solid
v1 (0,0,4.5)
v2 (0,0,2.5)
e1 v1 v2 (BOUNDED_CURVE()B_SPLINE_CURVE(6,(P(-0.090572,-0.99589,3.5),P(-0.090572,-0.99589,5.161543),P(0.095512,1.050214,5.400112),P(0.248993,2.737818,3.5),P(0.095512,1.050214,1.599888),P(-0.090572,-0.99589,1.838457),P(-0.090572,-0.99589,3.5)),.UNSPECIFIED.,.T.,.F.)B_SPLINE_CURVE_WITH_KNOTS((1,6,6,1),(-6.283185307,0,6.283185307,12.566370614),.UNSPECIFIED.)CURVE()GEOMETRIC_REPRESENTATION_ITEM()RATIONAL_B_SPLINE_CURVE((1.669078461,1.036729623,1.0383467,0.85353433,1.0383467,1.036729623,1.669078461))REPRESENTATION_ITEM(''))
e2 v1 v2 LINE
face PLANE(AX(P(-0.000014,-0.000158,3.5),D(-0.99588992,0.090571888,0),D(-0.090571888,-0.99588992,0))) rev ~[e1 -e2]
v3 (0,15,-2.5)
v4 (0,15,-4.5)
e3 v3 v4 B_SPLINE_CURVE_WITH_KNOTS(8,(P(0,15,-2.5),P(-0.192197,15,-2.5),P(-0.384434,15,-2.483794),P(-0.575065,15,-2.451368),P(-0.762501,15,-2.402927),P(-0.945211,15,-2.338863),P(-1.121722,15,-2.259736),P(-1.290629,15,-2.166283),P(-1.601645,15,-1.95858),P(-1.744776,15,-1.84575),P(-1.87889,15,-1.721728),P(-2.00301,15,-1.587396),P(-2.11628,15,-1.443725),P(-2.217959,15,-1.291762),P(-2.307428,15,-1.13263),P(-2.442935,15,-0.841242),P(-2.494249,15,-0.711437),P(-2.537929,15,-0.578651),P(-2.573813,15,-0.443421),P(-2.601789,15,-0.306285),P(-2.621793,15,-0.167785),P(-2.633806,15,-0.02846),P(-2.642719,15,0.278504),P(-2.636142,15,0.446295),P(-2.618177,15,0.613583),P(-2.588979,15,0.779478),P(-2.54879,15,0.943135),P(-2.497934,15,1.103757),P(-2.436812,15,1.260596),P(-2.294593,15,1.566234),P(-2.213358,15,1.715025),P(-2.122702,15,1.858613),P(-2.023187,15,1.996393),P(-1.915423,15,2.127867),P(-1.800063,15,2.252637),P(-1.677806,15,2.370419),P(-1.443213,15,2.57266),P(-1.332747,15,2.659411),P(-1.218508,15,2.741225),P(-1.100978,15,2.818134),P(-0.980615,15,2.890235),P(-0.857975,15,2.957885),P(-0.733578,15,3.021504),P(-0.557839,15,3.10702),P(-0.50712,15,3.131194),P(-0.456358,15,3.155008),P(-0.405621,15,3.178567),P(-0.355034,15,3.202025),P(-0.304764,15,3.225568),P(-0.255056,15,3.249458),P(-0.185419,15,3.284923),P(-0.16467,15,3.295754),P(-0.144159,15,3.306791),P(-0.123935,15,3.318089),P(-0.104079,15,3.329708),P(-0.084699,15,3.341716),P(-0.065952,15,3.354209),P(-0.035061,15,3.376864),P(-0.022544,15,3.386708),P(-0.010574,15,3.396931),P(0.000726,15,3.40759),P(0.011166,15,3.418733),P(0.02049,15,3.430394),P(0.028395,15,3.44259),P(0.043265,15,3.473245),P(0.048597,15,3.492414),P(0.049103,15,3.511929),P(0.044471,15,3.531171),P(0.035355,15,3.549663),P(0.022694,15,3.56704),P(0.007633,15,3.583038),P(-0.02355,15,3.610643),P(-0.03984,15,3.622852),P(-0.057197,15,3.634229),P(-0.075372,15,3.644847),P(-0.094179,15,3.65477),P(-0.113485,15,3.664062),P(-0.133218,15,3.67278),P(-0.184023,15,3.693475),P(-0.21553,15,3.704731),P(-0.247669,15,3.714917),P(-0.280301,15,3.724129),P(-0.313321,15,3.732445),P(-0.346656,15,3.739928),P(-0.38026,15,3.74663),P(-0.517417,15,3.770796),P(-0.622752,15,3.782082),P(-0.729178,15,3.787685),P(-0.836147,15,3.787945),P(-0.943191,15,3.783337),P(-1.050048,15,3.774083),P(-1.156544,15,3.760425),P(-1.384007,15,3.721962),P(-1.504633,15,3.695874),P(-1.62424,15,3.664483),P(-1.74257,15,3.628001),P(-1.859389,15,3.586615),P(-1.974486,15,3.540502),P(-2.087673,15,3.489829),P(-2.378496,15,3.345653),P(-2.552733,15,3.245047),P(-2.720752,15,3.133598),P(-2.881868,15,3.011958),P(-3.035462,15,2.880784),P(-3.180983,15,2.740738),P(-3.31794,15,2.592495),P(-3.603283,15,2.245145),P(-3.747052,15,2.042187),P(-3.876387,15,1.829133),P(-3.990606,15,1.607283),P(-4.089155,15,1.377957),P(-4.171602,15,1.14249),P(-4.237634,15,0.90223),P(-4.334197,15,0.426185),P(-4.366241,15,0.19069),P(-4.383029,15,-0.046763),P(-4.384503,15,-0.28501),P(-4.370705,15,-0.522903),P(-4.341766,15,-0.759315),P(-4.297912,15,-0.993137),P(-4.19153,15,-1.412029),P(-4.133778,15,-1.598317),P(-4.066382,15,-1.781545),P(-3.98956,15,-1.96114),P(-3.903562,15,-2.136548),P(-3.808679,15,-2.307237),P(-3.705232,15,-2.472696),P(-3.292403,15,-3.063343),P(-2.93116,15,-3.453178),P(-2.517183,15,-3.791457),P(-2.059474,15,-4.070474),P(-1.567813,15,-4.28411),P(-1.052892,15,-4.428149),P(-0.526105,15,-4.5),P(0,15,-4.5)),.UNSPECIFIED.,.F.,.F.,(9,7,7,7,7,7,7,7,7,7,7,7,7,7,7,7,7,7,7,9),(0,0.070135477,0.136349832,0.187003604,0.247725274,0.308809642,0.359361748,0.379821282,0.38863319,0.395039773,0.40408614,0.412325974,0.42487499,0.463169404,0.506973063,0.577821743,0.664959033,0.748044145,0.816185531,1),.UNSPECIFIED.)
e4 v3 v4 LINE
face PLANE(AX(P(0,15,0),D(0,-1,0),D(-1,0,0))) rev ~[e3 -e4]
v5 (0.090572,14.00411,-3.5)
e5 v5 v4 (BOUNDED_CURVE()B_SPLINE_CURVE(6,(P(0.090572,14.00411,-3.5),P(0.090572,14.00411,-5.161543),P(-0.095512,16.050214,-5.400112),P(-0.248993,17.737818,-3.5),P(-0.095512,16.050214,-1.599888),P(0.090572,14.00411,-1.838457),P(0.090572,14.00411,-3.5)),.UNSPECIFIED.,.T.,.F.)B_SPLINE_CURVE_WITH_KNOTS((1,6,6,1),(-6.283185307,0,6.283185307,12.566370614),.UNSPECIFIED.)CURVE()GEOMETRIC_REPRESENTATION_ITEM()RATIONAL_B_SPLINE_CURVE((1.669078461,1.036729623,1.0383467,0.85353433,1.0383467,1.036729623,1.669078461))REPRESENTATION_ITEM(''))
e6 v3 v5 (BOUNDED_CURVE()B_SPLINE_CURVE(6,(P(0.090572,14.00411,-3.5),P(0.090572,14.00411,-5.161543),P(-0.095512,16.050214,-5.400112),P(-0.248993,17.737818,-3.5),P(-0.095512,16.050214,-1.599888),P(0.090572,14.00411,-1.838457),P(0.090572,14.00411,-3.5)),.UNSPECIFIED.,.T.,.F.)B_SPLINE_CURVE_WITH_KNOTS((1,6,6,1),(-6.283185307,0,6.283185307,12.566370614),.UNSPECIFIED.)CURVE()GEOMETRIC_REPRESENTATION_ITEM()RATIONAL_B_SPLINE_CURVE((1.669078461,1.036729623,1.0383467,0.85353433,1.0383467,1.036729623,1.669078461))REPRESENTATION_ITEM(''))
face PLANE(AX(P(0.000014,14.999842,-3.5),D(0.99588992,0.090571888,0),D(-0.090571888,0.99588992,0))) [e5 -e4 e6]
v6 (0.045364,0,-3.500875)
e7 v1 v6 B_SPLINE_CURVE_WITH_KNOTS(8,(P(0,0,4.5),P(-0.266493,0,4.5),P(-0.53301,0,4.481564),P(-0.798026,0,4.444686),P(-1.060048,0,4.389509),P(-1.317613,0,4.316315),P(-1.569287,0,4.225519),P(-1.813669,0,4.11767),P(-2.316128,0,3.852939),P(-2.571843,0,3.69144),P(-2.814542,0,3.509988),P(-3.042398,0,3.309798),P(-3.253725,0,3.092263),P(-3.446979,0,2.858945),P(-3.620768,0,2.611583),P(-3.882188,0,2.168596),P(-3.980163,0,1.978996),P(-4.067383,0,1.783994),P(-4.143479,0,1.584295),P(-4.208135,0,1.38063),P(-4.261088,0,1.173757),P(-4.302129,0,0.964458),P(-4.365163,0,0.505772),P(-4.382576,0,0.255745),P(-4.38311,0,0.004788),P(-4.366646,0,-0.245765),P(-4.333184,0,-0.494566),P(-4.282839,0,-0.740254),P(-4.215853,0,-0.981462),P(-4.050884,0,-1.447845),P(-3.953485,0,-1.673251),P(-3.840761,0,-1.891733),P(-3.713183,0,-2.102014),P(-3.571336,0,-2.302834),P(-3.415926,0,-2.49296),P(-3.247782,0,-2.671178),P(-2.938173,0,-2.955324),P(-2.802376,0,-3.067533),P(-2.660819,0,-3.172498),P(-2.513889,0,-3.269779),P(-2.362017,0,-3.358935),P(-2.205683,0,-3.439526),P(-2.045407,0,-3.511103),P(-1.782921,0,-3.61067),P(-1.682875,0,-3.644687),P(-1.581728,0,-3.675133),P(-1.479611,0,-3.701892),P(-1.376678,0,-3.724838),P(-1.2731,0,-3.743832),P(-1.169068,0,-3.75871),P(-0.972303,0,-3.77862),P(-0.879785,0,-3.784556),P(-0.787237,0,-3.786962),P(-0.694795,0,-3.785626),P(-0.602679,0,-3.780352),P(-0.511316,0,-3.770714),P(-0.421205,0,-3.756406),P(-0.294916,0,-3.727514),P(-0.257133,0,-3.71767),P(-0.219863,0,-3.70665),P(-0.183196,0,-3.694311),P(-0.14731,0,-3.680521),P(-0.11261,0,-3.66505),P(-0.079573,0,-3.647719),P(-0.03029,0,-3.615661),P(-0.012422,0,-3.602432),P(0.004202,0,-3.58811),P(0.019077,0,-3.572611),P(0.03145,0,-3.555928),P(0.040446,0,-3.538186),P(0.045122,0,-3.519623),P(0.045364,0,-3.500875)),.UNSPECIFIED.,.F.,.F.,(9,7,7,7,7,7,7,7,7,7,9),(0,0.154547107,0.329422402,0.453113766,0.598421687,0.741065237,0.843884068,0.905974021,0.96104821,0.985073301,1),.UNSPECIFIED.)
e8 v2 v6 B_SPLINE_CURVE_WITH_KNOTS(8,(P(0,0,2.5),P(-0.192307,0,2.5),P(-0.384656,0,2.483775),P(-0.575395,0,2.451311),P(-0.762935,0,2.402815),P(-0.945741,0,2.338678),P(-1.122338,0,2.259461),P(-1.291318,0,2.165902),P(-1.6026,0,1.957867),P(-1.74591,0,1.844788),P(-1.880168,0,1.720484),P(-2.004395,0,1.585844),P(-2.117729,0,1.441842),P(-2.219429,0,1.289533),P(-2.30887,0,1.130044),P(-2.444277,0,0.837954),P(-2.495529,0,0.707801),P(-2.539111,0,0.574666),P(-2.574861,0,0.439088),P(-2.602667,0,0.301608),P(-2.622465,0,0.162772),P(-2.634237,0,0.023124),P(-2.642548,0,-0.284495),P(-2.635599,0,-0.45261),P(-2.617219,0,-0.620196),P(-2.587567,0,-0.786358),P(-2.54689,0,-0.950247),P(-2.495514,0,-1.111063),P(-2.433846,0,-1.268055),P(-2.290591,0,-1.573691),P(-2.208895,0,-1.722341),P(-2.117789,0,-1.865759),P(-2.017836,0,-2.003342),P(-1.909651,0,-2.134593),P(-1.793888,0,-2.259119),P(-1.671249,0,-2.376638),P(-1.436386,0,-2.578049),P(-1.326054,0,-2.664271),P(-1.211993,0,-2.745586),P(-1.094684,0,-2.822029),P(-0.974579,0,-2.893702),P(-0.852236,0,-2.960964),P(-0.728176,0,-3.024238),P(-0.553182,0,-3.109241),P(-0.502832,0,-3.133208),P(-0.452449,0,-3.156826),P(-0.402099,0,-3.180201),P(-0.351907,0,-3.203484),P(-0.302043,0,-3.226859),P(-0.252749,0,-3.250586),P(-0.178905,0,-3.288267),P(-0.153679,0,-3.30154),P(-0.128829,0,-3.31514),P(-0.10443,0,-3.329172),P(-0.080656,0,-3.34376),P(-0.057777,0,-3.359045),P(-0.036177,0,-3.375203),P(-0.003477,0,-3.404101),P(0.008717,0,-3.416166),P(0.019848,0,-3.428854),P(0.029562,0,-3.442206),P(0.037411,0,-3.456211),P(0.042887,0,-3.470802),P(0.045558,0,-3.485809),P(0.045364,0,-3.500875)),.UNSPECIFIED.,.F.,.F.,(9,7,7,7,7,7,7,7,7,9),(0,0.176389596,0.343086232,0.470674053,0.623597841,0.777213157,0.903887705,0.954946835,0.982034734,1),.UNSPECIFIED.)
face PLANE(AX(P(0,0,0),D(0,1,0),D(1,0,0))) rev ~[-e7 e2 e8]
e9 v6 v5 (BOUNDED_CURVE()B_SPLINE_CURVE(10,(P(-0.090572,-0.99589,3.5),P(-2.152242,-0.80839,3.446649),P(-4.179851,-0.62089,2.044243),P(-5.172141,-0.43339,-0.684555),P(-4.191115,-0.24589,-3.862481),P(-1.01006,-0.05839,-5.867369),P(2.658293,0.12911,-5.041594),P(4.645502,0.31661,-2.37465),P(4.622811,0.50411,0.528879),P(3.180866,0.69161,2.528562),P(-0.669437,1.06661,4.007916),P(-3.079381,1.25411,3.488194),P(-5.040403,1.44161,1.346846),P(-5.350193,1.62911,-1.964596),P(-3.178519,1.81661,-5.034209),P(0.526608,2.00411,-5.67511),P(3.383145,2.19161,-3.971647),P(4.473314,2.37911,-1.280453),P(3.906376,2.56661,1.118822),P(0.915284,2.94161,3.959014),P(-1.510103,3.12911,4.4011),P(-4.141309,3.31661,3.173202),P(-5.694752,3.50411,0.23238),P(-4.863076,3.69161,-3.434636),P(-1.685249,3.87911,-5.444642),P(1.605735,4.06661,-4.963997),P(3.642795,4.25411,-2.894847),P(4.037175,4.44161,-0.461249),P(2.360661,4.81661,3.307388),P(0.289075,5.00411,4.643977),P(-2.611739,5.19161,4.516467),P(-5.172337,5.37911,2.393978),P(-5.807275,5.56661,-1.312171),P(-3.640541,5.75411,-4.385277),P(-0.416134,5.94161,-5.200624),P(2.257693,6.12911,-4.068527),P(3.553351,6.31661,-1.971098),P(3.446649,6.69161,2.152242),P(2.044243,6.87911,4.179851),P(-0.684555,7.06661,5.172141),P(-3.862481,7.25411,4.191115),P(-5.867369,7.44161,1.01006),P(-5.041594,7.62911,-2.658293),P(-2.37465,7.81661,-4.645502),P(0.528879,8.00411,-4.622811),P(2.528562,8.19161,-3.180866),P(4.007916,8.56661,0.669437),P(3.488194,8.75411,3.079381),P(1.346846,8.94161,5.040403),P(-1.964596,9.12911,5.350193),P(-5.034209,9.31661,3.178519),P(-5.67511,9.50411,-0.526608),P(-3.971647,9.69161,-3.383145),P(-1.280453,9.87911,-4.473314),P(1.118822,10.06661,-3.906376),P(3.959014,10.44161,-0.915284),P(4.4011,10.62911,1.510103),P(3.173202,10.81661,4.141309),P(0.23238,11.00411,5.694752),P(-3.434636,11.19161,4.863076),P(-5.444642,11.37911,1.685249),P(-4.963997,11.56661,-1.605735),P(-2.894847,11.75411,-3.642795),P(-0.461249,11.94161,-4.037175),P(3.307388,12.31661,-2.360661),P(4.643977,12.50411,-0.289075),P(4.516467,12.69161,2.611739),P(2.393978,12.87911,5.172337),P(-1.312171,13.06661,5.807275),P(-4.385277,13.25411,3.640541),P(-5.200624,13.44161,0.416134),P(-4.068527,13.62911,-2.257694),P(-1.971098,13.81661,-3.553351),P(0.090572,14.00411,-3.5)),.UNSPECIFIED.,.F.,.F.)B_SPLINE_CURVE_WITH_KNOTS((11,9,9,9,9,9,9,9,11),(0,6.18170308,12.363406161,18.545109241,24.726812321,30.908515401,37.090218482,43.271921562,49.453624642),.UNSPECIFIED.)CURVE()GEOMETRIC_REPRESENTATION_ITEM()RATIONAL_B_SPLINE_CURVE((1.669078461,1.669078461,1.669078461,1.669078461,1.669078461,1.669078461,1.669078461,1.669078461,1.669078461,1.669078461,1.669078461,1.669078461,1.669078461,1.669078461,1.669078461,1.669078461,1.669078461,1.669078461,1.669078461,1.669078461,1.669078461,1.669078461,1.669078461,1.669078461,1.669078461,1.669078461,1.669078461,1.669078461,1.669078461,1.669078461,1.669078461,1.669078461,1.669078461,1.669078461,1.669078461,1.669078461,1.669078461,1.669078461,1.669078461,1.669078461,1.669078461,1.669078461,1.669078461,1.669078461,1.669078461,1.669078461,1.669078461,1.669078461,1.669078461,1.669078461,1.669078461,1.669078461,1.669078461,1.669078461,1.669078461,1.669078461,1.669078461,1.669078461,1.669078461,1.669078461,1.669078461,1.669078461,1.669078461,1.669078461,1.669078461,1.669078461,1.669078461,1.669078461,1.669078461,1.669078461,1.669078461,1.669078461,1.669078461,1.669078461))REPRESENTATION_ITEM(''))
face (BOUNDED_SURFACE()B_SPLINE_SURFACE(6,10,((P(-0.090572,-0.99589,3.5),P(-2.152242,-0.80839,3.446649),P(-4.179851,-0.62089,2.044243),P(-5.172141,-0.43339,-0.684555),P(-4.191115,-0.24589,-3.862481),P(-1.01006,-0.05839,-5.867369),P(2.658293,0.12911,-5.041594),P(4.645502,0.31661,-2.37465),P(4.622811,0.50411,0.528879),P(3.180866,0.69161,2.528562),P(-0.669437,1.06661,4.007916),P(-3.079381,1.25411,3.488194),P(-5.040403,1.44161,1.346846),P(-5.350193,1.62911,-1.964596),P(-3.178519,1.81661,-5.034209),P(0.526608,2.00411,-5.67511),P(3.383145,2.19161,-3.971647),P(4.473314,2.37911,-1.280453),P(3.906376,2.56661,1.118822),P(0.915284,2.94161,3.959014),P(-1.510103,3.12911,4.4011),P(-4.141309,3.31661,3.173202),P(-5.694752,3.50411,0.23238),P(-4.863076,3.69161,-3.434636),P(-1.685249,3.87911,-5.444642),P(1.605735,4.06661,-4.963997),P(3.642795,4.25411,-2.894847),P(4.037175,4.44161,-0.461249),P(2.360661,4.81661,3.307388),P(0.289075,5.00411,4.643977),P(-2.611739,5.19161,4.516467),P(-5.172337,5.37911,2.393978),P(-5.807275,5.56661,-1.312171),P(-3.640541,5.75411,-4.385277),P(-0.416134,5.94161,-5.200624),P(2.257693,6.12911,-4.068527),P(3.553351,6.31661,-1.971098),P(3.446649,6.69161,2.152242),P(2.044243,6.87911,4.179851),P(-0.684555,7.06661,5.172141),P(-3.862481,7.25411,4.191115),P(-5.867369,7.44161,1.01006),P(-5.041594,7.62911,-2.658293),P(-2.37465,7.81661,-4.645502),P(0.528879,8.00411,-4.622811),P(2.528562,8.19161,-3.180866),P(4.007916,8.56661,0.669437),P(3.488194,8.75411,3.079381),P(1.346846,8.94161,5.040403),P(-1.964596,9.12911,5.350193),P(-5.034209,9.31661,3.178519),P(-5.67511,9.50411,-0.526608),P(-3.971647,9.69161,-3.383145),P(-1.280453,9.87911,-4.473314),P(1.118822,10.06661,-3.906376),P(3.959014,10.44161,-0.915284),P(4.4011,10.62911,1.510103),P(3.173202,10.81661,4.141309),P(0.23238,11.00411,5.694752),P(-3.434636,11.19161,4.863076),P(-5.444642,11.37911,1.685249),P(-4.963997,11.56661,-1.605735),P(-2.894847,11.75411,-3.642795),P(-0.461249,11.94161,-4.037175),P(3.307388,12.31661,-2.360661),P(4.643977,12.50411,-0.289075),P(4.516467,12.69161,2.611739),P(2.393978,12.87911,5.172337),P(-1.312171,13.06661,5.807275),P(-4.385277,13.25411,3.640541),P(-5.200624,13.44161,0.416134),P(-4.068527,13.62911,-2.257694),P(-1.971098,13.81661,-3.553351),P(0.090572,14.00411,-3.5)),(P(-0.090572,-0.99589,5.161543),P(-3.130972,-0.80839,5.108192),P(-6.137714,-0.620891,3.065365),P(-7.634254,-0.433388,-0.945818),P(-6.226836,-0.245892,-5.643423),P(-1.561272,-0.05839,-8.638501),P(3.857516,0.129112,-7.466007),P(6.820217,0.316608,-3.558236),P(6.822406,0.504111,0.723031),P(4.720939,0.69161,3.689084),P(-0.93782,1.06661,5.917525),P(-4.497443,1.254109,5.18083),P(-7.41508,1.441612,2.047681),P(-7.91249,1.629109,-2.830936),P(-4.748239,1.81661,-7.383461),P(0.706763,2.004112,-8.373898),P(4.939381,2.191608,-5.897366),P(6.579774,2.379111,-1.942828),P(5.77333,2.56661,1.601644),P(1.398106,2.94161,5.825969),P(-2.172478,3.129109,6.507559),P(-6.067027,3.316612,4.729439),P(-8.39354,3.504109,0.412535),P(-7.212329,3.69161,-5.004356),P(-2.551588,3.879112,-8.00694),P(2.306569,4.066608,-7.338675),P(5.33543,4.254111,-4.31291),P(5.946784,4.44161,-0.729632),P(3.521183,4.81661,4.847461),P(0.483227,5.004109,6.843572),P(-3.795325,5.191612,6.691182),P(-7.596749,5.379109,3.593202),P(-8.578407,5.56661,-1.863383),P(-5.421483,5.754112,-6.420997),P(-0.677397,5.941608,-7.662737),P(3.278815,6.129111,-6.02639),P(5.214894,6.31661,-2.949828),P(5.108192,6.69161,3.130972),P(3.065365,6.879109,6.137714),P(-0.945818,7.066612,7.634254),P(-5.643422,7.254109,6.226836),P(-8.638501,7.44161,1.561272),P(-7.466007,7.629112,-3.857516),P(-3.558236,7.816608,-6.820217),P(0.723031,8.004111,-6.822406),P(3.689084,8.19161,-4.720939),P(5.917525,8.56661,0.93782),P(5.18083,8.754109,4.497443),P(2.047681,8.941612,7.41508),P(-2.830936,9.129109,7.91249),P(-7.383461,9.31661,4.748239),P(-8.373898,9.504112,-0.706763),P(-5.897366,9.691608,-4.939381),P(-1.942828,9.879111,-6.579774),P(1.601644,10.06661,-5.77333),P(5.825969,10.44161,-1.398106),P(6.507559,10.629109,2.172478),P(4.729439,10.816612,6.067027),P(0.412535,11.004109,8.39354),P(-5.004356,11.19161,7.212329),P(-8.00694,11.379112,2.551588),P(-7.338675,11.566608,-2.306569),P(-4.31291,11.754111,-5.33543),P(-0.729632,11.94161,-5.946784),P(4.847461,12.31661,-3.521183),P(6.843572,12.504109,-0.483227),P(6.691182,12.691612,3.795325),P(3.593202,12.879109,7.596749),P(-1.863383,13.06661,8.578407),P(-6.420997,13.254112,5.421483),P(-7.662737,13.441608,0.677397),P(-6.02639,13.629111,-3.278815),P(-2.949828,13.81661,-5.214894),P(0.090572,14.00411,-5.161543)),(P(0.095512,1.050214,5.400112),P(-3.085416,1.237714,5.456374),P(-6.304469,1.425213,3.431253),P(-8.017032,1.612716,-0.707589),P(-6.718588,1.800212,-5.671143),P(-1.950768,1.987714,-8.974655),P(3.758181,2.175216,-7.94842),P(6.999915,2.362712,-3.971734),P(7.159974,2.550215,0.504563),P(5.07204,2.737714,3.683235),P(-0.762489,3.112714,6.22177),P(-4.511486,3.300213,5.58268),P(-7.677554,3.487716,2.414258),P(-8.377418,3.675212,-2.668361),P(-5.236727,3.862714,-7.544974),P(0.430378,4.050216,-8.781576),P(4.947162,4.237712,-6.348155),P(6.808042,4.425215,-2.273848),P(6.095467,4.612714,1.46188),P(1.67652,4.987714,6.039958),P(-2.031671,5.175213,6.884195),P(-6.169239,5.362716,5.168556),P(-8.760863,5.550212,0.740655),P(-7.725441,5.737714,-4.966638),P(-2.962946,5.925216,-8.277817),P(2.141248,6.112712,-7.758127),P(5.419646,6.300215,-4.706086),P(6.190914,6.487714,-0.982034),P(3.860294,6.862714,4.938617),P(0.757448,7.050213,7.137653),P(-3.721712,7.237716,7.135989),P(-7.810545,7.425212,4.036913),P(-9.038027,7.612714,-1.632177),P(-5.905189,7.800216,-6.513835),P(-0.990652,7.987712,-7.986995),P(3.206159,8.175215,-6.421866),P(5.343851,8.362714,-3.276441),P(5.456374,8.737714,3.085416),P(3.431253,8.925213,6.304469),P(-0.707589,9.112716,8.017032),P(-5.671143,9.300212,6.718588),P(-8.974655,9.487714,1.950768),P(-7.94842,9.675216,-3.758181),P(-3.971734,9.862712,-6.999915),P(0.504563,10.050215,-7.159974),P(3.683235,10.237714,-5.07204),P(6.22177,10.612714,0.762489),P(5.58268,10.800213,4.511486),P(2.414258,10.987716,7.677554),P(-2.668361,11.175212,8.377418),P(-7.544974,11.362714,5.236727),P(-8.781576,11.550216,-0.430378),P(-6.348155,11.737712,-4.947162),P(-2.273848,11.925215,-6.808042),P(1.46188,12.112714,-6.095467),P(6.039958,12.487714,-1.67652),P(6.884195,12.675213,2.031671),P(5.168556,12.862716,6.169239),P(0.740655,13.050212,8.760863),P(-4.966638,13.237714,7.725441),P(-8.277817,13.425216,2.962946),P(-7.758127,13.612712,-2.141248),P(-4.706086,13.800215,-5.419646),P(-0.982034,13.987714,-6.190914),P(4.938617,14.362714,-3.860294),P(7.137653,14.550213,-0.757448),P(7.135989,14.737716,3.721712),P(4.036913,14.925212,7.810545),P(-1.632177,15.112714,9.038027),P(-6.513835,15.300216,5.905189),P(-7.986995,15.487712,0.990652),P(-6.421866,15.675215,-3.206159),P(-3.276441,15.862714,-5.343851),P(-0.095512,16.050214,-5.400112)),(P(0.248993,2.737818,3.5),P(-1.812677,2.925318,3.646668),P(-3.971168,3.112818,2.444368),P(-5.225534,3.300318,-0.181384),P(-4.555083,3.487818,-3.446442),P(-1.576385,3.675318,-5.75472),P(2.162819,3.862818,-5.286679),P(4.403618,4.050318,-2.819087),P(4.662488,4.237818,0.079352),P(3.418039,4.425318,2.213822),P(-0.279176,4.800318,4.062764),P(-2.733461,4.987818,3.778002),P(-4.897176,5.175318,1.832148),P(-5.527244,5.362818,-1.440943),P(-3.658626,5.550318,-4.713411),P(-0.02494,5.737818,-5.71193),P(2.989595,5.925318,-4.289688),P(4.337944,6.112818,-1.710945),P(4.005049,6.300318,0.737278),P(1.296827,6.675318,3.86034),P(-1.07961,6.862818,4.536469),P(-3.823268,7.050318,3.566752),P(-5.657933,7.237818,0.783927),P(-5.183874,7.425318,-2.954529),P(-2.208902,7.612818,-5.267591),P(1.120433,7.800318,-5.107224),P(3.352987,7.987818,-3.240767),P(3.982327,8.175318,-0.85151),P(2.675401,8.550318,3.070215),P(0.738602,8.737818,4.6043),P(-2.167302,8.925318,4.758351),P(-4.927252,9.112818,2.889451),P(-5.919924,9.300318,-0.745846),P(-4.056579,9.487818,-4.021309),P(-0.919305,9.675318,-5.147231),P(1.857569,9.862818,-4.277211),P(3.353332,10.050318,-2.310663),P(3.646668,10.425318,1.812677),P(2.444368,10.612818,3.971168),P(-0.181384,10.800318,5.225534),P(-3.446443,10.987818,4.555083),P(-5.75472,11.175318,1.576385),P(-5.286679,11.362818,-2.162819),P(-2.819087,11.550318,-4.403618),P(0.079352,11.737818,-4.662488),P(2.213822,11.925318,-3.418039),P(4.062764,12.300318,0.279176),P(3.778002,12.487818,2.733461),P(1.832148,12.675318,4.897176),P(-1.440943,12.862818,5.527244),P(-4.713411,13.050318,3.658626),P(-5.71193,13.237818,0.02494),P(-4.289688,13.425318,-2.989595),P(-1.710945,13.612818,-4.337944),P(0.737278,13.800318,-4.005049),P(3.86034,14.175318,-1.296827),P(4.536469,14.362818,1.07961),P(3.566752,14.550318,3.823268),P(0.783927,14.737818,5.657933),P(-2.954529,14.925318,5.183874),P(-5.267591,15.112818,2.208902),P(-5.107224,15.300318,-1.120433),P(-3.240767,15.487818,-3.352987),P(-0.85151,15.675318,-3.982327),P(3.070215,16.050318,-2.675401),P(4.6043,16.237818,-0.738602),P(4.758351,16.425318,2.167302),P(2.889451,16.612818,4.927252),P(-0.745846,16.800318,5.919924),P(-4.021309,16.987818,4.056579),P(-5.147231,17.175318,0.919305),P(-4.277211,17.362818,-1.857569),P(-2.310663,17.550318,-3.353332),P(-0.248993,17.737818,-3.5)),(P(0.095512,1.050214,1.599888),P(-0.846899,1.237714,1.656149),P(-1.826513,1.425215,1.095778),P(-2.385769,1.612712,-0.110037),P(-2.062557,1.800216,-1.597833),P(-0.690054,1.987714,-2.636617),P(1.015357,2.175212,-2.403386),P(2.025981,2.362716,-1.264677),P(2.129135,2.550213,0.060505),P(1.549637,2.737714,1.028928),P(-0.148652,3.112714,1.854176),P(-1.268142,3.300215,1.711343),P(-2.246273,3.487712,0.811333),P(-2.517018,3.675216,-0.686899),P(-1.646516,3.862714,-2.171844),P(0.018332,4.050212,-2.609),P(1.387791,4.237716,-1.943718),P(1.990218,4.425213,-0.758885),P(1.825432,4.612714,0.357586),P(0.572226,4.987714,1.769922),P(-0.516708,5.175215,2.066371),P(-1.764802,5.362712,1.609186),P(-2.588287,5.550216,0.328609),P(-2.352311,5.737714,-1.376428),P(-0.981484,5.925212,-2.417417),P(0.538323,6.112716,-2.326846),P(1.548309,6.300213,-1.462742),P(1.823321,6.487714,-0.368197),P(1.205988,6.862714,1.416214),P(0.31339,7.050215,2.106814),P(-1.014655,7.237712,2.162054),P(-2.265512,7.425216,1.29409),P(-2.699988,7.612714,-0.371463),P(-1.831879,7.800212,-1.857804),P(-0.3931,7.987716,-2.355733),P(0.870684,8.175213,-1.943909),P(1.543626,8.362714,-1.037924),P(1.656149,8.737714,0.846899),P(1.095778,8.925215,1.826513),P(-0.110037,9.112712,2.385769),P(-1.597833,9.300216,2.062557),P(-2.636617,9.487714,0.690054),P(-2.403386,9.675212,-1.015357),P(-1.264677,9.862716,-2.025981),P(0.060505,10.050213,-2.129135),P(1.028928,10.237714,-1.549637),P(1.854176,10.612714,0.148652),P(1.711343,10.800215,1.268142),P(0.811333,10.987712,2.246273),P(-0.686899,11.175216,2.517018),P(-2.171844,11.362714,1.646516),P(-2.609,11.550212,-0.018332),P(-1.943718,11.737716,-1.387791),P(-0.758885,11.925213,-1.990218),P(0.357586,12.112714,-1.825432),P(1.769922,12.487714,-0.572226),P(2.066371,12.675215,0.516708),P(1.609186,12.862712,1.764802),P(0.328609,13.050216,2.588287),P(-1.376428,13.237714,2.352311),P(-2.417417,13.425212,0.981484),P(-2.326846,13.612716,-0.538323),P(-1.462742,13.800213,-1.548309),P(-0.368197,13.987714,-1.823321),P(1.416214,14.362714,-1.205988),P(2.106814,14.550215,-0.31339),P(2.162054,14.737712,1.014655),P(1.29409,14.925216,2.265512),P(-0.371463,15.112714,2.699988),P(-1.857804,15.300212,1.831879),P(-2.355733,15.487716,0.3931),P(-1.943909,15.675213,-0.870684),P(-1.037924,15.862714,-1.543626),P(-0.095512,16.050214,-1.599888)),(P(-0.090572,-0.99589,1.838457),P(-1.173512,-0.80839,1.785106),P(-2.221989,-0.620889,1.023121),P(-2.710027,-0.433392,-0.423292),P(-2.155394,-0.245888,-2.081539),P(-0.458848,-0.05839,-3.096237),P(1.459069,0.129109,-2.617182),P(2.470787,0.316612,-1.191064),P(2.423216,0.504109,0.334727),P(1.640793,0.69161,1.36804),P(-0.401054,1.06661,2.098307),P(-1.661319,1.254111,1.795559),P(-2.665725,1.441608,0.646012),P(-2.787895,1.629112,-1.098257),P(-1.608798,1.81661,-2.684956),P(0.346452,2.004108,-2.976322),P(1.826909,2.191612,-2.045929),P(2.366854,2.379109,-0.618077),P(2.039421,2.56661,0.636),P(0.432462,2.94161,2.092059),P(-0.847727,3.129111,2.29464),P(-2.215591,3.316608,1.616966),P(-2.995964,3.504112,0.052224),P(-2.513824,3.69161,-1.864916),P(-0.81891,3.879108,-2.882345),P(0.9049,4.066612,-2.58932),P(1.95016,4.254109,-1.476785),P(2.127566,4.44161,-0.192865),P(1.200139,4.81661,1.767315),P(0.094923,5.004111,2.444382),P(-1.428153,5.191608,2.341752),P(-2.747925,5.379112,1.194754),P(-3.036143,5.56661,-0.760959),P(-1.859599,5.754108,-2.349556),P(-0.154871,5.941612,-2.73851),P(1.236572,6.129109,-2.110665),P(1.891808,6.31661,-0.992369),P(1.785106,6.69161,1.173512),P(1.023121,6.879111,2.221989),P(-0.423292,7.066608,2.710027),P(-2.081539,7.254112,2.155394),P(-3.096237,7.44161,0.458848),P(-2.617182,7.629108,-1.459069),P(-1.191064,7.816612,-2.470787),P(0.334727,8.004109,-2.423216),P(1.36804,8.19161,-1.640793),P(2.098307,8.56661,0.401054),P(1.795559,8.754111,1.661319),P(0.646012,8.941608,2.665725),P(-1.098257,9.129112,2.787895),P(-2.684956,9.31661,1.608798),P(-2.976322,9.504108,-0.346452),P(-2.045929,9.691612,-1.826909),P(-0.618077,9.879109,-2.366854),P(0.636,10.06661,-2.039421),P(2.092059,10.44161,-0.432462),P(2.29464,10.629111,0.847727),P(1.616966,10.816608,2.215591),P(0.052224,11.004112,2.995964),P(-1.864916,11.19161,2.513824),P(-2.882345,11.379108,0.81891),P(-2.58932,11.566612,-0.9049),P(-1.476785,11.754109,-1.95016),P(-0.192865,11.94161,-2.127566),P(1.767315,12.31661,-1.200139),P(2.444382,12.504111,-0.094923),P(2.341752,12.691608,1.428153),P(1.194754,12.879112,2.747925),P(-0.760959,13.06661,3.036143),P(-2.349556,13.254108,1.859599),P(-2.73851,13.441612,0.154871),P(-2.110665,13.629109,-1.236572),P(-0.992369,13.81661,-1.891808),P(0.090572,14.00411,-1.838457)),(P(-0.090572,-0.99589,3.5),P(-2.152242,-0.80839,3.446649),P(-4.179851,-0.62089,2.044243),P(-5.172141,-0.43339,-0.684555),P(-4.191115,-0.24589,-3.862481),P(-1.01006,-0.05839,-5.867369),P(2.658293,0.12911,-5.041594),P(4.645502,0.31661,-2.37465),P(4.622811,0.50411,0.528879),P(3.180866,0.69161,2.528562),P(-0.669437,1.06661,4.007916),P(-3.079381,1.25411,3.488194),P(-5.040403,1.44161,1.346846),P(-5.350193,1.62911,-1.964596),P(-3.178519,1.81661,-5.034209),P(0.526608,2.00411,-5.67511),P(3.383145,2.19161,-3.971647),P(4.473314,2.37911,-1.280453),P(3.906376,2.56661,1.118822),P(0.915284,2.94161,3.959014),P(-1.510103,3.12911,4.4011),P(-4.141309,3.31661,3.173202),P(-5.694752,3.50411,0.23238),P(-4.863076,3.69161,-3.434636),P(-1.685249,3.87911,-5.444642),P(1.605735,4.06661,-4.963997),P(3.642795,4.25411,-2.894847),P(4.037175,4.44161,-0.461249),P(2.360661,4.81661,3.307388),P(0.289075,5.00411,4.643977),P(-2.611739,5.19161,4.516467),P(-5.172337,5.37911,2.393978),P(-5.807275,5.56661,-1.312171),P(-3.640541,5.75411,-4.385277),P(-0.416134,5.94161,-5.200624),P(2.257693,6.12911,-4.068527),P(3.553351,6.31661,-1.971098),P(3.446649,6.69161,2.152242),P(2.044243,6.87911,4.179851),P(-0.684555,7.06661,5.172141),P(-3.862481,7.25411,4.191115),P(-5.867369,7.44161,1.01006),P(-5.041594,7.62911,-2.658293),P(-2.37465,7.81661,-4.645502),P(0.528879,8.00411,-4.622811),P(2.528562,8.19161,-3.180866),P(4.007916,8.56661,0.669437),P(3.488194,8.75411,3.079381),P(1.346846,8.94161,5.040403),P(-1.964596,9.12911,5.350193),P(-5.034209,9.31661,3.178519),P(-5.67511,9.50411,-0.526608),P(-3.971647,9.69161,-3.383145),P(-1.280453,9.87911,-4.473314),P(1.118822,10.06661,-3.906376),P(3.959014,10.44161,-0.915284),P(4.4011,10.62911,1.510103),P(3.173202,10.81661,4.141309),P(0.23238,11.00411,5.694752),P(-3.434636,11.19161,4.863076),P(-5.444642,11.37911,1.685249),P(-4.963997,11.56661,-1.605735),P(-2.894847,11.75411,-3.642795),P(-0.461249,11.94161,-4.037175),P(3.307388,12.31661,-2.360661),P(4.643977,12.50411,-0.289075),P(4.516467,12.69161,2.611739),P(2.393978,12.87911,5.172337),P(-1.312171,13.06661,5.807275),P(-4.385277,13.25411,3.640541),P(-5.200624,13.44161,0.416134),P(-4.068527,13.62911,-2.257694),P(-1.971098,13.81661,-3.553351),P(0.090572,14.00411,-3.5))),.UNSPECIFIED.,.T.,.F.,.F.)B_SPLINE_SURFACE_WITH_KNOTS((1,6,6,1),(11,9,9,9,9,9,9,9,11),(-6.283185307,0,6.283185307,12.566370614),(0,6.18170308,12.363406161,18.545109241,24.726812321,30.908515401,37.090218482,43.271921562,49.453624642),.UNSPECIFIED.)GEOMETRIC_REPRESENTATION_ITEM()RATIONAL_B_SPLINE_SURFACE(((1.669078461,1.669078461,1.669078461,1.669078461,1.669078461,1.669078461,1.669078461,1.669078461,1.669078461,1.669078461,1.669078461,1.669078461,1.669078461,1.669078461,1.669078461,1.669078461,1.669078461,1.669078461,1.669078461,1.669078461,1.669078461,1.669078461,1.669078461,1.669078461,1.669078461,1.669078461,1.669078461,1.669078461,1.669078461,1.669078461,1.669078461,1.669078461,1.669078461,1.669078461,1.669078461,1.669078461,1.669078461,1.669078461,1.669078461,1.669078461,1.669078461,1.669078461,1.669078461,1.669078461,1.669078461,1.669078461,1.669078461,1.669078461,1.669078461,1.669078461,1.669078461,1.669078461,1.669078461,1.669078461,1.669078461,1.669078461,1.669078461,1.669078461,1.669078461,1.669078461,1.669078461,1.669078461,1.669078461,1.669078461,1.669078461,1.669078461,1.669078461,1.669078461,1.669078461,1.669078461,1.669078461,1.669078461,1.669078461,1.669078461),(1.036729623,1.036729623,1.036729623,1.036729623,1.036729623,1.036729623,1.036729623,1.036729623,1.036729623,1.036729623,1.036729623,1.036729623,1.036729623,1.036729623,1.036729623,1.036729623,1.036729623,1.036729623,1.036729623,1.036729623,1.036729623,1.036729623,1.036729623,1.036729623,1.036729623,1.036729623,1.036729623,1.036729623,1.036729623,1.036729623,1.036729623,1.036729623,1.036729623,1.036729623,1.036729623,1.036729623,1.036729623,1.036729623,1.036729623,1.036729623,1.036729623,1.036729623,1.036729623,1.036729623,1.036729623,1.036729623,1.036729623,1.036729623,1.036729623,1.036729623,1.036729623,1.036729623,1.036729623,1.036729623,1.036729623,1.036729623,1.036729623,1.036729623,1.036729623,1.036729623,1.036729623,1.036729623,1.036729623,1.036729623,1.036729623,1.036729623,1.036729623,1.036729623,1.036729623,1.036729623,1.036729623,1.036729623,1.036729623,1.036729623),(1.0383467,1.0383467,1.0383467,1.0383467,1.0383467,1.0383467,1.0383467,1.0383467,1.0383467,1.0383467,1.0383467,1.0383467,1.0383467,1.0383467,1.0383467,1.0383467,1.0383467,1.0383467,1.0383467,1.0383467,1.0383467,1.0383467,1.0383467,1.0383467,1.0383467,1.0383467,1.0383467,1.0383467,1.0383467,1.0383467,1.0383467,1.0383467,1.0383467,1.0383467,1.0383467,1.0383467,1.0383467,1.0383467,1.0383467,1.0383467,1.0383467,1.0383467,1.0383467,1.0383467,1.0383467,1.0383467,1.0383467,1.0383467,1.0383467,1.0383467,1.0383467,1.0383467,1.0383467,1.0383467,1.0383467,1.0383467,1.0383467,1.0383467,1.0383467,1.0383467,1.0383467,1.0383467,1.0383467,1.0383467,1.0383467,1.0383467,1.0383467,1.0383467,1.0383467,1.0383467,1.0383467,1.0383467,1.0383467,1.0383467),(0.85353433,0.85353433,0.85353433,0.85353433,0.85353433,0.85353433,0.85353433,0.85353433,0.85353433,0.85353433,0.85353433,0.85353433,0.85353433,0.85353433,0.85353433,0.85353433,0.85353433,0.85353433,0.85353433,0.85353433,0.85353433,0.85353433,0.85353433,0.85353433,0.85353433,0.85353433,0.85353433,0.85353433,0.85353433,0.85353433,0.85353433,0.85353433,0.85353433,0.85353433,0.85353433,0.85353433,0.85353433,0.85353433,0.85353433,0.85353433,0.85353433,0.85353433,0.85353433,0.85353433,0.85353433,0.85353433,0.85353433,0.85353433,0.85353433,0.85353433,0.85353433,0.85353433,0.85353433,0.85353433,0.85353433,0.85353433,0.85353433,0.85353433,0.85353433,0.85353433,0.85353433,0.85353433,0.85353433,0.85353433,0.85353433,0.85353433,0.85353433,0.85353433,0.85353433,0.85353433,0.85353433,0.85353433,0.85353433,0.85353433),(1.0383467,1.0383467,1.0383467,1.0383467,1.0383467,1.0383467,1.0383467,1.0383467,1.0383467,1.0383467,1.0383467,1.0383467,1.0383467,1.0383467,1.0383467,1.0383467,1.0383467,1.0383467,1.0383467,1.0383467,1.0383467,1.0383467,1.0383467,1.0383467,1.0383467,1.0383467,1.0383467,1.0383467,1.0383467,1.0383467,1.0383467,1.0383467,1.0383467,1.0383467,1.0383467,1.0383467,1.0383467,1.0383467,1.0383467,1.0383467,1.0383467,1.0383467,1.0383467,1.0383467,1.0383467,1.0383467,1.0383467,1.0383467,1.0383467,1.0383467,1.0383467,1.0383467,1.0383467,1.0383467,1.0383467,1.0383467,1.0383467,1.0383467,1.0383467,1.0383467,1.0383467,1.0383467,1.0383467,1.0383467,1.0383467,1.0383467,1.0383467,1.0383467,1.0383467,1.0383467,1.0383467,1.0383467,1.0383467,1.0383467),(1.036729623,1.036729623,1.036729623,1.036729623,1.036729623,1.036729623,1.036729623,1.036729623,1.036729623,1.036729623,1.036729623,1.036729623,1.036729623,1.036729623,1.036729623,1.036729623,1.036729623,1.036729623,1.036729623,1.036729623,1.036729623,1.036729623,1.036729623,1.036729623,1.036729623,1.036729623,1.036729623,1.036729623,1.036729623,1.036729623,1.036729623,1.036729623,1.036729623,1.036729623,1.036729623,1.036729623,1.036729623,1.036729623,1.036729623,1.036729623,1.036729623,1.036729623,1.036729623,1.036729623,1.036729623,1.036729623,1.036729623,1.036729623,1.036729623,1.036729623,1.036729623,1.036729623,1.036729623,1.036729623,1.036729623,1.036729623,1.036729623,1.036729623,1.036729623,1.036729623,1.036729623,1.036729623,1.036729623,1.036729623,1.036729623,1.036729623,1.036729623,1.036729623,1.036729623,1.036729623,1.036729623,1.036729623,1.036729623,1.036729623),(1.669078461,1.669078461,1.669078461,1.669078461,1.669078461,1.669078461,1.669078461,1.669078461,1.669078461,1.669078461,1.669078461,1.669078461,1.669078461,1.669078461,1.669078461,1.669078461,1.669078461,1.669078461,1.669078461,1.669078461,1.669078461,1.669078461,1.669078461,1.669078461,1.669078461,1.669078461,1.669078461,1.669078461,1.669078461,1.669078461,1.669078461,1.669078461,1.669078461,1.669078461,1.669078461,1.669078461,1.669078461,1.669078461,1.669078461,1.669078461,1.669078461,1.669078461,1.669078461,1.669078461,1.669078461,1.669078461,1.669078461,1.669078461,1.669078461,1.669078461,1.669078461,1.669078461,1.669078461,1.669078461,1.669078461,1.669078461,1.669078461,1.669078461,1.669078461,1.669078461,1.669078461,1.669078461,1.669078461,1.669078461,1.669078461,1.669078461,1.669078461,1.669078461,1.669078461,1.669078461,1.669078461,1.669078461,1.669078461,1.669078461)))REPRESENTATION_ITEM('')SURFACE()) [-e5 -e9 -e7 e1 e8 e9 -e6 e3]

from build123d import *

# Parameters (mm, degrees)
S_P_R1_PITCH          = 2
S_P_R1_HEIGHT         = 15
S_P_R1_RADIUS         = 3.5
S_P_R1_PROFILE_R      = 1
IZIM10_R              = 5
KES_EKSTR_ZYON1_DEPTH = 10
IZIM11_R              = 5
KES_EKSTR_ZYON2_DEPTH = 10


with BuildPart() as part:
    # Süpür1: sweep along a helix
    with BuildLine() as s_p_r1_path:
        Helix(S_P_R1_PITCH, S_P_R1_HEIGHT, S_P_R1_RADIUS, center=(0, 0, 0), direction=(0, 1, 0), lefthand=True)
    # Süpür1 profile (on start of the path) → Süpür1 (sweep)
    with BuildSketch(Plane(origin=(0, 0, 3.5), x_dir=(-0.09057188775690109, -0.9958899201960785, 0), z_dir=(-0.9958899201960785, 0.09057188775690109, -9.876142626402533e-14))):
        Circle(S_P_R1_PROFILE_R)
    sweep(path=s_p_r1_path.line, is_frenet=True)

    # Çizim10 → Kes-Ekstrüzyon1 (cut)
    with BuildSketch(Plane(origin=(0, 0, 0), x_dir=(1, 0, 0), z_dir=(0, 1, 0))):
        Circle(IZIM10_R)
    extrude(amount=-KES_EKSTR_ZYON1_DEPTH, mode=Mode.SUBTRACT)

    # Çizim11 → Kes-Ekstrüzyon2 (cut)
    with BuildSketch(Plane(origin=(0, 15, 0), x_dir=(-1, 0, 0), z_dir=(0, -1, 0))):
        Circle(IZIM11_R)
    extrude(amount=-KES_EKSTR_ZYON2_DEPTH, mode=Mode.SUBTRACT)


solid = part.part
